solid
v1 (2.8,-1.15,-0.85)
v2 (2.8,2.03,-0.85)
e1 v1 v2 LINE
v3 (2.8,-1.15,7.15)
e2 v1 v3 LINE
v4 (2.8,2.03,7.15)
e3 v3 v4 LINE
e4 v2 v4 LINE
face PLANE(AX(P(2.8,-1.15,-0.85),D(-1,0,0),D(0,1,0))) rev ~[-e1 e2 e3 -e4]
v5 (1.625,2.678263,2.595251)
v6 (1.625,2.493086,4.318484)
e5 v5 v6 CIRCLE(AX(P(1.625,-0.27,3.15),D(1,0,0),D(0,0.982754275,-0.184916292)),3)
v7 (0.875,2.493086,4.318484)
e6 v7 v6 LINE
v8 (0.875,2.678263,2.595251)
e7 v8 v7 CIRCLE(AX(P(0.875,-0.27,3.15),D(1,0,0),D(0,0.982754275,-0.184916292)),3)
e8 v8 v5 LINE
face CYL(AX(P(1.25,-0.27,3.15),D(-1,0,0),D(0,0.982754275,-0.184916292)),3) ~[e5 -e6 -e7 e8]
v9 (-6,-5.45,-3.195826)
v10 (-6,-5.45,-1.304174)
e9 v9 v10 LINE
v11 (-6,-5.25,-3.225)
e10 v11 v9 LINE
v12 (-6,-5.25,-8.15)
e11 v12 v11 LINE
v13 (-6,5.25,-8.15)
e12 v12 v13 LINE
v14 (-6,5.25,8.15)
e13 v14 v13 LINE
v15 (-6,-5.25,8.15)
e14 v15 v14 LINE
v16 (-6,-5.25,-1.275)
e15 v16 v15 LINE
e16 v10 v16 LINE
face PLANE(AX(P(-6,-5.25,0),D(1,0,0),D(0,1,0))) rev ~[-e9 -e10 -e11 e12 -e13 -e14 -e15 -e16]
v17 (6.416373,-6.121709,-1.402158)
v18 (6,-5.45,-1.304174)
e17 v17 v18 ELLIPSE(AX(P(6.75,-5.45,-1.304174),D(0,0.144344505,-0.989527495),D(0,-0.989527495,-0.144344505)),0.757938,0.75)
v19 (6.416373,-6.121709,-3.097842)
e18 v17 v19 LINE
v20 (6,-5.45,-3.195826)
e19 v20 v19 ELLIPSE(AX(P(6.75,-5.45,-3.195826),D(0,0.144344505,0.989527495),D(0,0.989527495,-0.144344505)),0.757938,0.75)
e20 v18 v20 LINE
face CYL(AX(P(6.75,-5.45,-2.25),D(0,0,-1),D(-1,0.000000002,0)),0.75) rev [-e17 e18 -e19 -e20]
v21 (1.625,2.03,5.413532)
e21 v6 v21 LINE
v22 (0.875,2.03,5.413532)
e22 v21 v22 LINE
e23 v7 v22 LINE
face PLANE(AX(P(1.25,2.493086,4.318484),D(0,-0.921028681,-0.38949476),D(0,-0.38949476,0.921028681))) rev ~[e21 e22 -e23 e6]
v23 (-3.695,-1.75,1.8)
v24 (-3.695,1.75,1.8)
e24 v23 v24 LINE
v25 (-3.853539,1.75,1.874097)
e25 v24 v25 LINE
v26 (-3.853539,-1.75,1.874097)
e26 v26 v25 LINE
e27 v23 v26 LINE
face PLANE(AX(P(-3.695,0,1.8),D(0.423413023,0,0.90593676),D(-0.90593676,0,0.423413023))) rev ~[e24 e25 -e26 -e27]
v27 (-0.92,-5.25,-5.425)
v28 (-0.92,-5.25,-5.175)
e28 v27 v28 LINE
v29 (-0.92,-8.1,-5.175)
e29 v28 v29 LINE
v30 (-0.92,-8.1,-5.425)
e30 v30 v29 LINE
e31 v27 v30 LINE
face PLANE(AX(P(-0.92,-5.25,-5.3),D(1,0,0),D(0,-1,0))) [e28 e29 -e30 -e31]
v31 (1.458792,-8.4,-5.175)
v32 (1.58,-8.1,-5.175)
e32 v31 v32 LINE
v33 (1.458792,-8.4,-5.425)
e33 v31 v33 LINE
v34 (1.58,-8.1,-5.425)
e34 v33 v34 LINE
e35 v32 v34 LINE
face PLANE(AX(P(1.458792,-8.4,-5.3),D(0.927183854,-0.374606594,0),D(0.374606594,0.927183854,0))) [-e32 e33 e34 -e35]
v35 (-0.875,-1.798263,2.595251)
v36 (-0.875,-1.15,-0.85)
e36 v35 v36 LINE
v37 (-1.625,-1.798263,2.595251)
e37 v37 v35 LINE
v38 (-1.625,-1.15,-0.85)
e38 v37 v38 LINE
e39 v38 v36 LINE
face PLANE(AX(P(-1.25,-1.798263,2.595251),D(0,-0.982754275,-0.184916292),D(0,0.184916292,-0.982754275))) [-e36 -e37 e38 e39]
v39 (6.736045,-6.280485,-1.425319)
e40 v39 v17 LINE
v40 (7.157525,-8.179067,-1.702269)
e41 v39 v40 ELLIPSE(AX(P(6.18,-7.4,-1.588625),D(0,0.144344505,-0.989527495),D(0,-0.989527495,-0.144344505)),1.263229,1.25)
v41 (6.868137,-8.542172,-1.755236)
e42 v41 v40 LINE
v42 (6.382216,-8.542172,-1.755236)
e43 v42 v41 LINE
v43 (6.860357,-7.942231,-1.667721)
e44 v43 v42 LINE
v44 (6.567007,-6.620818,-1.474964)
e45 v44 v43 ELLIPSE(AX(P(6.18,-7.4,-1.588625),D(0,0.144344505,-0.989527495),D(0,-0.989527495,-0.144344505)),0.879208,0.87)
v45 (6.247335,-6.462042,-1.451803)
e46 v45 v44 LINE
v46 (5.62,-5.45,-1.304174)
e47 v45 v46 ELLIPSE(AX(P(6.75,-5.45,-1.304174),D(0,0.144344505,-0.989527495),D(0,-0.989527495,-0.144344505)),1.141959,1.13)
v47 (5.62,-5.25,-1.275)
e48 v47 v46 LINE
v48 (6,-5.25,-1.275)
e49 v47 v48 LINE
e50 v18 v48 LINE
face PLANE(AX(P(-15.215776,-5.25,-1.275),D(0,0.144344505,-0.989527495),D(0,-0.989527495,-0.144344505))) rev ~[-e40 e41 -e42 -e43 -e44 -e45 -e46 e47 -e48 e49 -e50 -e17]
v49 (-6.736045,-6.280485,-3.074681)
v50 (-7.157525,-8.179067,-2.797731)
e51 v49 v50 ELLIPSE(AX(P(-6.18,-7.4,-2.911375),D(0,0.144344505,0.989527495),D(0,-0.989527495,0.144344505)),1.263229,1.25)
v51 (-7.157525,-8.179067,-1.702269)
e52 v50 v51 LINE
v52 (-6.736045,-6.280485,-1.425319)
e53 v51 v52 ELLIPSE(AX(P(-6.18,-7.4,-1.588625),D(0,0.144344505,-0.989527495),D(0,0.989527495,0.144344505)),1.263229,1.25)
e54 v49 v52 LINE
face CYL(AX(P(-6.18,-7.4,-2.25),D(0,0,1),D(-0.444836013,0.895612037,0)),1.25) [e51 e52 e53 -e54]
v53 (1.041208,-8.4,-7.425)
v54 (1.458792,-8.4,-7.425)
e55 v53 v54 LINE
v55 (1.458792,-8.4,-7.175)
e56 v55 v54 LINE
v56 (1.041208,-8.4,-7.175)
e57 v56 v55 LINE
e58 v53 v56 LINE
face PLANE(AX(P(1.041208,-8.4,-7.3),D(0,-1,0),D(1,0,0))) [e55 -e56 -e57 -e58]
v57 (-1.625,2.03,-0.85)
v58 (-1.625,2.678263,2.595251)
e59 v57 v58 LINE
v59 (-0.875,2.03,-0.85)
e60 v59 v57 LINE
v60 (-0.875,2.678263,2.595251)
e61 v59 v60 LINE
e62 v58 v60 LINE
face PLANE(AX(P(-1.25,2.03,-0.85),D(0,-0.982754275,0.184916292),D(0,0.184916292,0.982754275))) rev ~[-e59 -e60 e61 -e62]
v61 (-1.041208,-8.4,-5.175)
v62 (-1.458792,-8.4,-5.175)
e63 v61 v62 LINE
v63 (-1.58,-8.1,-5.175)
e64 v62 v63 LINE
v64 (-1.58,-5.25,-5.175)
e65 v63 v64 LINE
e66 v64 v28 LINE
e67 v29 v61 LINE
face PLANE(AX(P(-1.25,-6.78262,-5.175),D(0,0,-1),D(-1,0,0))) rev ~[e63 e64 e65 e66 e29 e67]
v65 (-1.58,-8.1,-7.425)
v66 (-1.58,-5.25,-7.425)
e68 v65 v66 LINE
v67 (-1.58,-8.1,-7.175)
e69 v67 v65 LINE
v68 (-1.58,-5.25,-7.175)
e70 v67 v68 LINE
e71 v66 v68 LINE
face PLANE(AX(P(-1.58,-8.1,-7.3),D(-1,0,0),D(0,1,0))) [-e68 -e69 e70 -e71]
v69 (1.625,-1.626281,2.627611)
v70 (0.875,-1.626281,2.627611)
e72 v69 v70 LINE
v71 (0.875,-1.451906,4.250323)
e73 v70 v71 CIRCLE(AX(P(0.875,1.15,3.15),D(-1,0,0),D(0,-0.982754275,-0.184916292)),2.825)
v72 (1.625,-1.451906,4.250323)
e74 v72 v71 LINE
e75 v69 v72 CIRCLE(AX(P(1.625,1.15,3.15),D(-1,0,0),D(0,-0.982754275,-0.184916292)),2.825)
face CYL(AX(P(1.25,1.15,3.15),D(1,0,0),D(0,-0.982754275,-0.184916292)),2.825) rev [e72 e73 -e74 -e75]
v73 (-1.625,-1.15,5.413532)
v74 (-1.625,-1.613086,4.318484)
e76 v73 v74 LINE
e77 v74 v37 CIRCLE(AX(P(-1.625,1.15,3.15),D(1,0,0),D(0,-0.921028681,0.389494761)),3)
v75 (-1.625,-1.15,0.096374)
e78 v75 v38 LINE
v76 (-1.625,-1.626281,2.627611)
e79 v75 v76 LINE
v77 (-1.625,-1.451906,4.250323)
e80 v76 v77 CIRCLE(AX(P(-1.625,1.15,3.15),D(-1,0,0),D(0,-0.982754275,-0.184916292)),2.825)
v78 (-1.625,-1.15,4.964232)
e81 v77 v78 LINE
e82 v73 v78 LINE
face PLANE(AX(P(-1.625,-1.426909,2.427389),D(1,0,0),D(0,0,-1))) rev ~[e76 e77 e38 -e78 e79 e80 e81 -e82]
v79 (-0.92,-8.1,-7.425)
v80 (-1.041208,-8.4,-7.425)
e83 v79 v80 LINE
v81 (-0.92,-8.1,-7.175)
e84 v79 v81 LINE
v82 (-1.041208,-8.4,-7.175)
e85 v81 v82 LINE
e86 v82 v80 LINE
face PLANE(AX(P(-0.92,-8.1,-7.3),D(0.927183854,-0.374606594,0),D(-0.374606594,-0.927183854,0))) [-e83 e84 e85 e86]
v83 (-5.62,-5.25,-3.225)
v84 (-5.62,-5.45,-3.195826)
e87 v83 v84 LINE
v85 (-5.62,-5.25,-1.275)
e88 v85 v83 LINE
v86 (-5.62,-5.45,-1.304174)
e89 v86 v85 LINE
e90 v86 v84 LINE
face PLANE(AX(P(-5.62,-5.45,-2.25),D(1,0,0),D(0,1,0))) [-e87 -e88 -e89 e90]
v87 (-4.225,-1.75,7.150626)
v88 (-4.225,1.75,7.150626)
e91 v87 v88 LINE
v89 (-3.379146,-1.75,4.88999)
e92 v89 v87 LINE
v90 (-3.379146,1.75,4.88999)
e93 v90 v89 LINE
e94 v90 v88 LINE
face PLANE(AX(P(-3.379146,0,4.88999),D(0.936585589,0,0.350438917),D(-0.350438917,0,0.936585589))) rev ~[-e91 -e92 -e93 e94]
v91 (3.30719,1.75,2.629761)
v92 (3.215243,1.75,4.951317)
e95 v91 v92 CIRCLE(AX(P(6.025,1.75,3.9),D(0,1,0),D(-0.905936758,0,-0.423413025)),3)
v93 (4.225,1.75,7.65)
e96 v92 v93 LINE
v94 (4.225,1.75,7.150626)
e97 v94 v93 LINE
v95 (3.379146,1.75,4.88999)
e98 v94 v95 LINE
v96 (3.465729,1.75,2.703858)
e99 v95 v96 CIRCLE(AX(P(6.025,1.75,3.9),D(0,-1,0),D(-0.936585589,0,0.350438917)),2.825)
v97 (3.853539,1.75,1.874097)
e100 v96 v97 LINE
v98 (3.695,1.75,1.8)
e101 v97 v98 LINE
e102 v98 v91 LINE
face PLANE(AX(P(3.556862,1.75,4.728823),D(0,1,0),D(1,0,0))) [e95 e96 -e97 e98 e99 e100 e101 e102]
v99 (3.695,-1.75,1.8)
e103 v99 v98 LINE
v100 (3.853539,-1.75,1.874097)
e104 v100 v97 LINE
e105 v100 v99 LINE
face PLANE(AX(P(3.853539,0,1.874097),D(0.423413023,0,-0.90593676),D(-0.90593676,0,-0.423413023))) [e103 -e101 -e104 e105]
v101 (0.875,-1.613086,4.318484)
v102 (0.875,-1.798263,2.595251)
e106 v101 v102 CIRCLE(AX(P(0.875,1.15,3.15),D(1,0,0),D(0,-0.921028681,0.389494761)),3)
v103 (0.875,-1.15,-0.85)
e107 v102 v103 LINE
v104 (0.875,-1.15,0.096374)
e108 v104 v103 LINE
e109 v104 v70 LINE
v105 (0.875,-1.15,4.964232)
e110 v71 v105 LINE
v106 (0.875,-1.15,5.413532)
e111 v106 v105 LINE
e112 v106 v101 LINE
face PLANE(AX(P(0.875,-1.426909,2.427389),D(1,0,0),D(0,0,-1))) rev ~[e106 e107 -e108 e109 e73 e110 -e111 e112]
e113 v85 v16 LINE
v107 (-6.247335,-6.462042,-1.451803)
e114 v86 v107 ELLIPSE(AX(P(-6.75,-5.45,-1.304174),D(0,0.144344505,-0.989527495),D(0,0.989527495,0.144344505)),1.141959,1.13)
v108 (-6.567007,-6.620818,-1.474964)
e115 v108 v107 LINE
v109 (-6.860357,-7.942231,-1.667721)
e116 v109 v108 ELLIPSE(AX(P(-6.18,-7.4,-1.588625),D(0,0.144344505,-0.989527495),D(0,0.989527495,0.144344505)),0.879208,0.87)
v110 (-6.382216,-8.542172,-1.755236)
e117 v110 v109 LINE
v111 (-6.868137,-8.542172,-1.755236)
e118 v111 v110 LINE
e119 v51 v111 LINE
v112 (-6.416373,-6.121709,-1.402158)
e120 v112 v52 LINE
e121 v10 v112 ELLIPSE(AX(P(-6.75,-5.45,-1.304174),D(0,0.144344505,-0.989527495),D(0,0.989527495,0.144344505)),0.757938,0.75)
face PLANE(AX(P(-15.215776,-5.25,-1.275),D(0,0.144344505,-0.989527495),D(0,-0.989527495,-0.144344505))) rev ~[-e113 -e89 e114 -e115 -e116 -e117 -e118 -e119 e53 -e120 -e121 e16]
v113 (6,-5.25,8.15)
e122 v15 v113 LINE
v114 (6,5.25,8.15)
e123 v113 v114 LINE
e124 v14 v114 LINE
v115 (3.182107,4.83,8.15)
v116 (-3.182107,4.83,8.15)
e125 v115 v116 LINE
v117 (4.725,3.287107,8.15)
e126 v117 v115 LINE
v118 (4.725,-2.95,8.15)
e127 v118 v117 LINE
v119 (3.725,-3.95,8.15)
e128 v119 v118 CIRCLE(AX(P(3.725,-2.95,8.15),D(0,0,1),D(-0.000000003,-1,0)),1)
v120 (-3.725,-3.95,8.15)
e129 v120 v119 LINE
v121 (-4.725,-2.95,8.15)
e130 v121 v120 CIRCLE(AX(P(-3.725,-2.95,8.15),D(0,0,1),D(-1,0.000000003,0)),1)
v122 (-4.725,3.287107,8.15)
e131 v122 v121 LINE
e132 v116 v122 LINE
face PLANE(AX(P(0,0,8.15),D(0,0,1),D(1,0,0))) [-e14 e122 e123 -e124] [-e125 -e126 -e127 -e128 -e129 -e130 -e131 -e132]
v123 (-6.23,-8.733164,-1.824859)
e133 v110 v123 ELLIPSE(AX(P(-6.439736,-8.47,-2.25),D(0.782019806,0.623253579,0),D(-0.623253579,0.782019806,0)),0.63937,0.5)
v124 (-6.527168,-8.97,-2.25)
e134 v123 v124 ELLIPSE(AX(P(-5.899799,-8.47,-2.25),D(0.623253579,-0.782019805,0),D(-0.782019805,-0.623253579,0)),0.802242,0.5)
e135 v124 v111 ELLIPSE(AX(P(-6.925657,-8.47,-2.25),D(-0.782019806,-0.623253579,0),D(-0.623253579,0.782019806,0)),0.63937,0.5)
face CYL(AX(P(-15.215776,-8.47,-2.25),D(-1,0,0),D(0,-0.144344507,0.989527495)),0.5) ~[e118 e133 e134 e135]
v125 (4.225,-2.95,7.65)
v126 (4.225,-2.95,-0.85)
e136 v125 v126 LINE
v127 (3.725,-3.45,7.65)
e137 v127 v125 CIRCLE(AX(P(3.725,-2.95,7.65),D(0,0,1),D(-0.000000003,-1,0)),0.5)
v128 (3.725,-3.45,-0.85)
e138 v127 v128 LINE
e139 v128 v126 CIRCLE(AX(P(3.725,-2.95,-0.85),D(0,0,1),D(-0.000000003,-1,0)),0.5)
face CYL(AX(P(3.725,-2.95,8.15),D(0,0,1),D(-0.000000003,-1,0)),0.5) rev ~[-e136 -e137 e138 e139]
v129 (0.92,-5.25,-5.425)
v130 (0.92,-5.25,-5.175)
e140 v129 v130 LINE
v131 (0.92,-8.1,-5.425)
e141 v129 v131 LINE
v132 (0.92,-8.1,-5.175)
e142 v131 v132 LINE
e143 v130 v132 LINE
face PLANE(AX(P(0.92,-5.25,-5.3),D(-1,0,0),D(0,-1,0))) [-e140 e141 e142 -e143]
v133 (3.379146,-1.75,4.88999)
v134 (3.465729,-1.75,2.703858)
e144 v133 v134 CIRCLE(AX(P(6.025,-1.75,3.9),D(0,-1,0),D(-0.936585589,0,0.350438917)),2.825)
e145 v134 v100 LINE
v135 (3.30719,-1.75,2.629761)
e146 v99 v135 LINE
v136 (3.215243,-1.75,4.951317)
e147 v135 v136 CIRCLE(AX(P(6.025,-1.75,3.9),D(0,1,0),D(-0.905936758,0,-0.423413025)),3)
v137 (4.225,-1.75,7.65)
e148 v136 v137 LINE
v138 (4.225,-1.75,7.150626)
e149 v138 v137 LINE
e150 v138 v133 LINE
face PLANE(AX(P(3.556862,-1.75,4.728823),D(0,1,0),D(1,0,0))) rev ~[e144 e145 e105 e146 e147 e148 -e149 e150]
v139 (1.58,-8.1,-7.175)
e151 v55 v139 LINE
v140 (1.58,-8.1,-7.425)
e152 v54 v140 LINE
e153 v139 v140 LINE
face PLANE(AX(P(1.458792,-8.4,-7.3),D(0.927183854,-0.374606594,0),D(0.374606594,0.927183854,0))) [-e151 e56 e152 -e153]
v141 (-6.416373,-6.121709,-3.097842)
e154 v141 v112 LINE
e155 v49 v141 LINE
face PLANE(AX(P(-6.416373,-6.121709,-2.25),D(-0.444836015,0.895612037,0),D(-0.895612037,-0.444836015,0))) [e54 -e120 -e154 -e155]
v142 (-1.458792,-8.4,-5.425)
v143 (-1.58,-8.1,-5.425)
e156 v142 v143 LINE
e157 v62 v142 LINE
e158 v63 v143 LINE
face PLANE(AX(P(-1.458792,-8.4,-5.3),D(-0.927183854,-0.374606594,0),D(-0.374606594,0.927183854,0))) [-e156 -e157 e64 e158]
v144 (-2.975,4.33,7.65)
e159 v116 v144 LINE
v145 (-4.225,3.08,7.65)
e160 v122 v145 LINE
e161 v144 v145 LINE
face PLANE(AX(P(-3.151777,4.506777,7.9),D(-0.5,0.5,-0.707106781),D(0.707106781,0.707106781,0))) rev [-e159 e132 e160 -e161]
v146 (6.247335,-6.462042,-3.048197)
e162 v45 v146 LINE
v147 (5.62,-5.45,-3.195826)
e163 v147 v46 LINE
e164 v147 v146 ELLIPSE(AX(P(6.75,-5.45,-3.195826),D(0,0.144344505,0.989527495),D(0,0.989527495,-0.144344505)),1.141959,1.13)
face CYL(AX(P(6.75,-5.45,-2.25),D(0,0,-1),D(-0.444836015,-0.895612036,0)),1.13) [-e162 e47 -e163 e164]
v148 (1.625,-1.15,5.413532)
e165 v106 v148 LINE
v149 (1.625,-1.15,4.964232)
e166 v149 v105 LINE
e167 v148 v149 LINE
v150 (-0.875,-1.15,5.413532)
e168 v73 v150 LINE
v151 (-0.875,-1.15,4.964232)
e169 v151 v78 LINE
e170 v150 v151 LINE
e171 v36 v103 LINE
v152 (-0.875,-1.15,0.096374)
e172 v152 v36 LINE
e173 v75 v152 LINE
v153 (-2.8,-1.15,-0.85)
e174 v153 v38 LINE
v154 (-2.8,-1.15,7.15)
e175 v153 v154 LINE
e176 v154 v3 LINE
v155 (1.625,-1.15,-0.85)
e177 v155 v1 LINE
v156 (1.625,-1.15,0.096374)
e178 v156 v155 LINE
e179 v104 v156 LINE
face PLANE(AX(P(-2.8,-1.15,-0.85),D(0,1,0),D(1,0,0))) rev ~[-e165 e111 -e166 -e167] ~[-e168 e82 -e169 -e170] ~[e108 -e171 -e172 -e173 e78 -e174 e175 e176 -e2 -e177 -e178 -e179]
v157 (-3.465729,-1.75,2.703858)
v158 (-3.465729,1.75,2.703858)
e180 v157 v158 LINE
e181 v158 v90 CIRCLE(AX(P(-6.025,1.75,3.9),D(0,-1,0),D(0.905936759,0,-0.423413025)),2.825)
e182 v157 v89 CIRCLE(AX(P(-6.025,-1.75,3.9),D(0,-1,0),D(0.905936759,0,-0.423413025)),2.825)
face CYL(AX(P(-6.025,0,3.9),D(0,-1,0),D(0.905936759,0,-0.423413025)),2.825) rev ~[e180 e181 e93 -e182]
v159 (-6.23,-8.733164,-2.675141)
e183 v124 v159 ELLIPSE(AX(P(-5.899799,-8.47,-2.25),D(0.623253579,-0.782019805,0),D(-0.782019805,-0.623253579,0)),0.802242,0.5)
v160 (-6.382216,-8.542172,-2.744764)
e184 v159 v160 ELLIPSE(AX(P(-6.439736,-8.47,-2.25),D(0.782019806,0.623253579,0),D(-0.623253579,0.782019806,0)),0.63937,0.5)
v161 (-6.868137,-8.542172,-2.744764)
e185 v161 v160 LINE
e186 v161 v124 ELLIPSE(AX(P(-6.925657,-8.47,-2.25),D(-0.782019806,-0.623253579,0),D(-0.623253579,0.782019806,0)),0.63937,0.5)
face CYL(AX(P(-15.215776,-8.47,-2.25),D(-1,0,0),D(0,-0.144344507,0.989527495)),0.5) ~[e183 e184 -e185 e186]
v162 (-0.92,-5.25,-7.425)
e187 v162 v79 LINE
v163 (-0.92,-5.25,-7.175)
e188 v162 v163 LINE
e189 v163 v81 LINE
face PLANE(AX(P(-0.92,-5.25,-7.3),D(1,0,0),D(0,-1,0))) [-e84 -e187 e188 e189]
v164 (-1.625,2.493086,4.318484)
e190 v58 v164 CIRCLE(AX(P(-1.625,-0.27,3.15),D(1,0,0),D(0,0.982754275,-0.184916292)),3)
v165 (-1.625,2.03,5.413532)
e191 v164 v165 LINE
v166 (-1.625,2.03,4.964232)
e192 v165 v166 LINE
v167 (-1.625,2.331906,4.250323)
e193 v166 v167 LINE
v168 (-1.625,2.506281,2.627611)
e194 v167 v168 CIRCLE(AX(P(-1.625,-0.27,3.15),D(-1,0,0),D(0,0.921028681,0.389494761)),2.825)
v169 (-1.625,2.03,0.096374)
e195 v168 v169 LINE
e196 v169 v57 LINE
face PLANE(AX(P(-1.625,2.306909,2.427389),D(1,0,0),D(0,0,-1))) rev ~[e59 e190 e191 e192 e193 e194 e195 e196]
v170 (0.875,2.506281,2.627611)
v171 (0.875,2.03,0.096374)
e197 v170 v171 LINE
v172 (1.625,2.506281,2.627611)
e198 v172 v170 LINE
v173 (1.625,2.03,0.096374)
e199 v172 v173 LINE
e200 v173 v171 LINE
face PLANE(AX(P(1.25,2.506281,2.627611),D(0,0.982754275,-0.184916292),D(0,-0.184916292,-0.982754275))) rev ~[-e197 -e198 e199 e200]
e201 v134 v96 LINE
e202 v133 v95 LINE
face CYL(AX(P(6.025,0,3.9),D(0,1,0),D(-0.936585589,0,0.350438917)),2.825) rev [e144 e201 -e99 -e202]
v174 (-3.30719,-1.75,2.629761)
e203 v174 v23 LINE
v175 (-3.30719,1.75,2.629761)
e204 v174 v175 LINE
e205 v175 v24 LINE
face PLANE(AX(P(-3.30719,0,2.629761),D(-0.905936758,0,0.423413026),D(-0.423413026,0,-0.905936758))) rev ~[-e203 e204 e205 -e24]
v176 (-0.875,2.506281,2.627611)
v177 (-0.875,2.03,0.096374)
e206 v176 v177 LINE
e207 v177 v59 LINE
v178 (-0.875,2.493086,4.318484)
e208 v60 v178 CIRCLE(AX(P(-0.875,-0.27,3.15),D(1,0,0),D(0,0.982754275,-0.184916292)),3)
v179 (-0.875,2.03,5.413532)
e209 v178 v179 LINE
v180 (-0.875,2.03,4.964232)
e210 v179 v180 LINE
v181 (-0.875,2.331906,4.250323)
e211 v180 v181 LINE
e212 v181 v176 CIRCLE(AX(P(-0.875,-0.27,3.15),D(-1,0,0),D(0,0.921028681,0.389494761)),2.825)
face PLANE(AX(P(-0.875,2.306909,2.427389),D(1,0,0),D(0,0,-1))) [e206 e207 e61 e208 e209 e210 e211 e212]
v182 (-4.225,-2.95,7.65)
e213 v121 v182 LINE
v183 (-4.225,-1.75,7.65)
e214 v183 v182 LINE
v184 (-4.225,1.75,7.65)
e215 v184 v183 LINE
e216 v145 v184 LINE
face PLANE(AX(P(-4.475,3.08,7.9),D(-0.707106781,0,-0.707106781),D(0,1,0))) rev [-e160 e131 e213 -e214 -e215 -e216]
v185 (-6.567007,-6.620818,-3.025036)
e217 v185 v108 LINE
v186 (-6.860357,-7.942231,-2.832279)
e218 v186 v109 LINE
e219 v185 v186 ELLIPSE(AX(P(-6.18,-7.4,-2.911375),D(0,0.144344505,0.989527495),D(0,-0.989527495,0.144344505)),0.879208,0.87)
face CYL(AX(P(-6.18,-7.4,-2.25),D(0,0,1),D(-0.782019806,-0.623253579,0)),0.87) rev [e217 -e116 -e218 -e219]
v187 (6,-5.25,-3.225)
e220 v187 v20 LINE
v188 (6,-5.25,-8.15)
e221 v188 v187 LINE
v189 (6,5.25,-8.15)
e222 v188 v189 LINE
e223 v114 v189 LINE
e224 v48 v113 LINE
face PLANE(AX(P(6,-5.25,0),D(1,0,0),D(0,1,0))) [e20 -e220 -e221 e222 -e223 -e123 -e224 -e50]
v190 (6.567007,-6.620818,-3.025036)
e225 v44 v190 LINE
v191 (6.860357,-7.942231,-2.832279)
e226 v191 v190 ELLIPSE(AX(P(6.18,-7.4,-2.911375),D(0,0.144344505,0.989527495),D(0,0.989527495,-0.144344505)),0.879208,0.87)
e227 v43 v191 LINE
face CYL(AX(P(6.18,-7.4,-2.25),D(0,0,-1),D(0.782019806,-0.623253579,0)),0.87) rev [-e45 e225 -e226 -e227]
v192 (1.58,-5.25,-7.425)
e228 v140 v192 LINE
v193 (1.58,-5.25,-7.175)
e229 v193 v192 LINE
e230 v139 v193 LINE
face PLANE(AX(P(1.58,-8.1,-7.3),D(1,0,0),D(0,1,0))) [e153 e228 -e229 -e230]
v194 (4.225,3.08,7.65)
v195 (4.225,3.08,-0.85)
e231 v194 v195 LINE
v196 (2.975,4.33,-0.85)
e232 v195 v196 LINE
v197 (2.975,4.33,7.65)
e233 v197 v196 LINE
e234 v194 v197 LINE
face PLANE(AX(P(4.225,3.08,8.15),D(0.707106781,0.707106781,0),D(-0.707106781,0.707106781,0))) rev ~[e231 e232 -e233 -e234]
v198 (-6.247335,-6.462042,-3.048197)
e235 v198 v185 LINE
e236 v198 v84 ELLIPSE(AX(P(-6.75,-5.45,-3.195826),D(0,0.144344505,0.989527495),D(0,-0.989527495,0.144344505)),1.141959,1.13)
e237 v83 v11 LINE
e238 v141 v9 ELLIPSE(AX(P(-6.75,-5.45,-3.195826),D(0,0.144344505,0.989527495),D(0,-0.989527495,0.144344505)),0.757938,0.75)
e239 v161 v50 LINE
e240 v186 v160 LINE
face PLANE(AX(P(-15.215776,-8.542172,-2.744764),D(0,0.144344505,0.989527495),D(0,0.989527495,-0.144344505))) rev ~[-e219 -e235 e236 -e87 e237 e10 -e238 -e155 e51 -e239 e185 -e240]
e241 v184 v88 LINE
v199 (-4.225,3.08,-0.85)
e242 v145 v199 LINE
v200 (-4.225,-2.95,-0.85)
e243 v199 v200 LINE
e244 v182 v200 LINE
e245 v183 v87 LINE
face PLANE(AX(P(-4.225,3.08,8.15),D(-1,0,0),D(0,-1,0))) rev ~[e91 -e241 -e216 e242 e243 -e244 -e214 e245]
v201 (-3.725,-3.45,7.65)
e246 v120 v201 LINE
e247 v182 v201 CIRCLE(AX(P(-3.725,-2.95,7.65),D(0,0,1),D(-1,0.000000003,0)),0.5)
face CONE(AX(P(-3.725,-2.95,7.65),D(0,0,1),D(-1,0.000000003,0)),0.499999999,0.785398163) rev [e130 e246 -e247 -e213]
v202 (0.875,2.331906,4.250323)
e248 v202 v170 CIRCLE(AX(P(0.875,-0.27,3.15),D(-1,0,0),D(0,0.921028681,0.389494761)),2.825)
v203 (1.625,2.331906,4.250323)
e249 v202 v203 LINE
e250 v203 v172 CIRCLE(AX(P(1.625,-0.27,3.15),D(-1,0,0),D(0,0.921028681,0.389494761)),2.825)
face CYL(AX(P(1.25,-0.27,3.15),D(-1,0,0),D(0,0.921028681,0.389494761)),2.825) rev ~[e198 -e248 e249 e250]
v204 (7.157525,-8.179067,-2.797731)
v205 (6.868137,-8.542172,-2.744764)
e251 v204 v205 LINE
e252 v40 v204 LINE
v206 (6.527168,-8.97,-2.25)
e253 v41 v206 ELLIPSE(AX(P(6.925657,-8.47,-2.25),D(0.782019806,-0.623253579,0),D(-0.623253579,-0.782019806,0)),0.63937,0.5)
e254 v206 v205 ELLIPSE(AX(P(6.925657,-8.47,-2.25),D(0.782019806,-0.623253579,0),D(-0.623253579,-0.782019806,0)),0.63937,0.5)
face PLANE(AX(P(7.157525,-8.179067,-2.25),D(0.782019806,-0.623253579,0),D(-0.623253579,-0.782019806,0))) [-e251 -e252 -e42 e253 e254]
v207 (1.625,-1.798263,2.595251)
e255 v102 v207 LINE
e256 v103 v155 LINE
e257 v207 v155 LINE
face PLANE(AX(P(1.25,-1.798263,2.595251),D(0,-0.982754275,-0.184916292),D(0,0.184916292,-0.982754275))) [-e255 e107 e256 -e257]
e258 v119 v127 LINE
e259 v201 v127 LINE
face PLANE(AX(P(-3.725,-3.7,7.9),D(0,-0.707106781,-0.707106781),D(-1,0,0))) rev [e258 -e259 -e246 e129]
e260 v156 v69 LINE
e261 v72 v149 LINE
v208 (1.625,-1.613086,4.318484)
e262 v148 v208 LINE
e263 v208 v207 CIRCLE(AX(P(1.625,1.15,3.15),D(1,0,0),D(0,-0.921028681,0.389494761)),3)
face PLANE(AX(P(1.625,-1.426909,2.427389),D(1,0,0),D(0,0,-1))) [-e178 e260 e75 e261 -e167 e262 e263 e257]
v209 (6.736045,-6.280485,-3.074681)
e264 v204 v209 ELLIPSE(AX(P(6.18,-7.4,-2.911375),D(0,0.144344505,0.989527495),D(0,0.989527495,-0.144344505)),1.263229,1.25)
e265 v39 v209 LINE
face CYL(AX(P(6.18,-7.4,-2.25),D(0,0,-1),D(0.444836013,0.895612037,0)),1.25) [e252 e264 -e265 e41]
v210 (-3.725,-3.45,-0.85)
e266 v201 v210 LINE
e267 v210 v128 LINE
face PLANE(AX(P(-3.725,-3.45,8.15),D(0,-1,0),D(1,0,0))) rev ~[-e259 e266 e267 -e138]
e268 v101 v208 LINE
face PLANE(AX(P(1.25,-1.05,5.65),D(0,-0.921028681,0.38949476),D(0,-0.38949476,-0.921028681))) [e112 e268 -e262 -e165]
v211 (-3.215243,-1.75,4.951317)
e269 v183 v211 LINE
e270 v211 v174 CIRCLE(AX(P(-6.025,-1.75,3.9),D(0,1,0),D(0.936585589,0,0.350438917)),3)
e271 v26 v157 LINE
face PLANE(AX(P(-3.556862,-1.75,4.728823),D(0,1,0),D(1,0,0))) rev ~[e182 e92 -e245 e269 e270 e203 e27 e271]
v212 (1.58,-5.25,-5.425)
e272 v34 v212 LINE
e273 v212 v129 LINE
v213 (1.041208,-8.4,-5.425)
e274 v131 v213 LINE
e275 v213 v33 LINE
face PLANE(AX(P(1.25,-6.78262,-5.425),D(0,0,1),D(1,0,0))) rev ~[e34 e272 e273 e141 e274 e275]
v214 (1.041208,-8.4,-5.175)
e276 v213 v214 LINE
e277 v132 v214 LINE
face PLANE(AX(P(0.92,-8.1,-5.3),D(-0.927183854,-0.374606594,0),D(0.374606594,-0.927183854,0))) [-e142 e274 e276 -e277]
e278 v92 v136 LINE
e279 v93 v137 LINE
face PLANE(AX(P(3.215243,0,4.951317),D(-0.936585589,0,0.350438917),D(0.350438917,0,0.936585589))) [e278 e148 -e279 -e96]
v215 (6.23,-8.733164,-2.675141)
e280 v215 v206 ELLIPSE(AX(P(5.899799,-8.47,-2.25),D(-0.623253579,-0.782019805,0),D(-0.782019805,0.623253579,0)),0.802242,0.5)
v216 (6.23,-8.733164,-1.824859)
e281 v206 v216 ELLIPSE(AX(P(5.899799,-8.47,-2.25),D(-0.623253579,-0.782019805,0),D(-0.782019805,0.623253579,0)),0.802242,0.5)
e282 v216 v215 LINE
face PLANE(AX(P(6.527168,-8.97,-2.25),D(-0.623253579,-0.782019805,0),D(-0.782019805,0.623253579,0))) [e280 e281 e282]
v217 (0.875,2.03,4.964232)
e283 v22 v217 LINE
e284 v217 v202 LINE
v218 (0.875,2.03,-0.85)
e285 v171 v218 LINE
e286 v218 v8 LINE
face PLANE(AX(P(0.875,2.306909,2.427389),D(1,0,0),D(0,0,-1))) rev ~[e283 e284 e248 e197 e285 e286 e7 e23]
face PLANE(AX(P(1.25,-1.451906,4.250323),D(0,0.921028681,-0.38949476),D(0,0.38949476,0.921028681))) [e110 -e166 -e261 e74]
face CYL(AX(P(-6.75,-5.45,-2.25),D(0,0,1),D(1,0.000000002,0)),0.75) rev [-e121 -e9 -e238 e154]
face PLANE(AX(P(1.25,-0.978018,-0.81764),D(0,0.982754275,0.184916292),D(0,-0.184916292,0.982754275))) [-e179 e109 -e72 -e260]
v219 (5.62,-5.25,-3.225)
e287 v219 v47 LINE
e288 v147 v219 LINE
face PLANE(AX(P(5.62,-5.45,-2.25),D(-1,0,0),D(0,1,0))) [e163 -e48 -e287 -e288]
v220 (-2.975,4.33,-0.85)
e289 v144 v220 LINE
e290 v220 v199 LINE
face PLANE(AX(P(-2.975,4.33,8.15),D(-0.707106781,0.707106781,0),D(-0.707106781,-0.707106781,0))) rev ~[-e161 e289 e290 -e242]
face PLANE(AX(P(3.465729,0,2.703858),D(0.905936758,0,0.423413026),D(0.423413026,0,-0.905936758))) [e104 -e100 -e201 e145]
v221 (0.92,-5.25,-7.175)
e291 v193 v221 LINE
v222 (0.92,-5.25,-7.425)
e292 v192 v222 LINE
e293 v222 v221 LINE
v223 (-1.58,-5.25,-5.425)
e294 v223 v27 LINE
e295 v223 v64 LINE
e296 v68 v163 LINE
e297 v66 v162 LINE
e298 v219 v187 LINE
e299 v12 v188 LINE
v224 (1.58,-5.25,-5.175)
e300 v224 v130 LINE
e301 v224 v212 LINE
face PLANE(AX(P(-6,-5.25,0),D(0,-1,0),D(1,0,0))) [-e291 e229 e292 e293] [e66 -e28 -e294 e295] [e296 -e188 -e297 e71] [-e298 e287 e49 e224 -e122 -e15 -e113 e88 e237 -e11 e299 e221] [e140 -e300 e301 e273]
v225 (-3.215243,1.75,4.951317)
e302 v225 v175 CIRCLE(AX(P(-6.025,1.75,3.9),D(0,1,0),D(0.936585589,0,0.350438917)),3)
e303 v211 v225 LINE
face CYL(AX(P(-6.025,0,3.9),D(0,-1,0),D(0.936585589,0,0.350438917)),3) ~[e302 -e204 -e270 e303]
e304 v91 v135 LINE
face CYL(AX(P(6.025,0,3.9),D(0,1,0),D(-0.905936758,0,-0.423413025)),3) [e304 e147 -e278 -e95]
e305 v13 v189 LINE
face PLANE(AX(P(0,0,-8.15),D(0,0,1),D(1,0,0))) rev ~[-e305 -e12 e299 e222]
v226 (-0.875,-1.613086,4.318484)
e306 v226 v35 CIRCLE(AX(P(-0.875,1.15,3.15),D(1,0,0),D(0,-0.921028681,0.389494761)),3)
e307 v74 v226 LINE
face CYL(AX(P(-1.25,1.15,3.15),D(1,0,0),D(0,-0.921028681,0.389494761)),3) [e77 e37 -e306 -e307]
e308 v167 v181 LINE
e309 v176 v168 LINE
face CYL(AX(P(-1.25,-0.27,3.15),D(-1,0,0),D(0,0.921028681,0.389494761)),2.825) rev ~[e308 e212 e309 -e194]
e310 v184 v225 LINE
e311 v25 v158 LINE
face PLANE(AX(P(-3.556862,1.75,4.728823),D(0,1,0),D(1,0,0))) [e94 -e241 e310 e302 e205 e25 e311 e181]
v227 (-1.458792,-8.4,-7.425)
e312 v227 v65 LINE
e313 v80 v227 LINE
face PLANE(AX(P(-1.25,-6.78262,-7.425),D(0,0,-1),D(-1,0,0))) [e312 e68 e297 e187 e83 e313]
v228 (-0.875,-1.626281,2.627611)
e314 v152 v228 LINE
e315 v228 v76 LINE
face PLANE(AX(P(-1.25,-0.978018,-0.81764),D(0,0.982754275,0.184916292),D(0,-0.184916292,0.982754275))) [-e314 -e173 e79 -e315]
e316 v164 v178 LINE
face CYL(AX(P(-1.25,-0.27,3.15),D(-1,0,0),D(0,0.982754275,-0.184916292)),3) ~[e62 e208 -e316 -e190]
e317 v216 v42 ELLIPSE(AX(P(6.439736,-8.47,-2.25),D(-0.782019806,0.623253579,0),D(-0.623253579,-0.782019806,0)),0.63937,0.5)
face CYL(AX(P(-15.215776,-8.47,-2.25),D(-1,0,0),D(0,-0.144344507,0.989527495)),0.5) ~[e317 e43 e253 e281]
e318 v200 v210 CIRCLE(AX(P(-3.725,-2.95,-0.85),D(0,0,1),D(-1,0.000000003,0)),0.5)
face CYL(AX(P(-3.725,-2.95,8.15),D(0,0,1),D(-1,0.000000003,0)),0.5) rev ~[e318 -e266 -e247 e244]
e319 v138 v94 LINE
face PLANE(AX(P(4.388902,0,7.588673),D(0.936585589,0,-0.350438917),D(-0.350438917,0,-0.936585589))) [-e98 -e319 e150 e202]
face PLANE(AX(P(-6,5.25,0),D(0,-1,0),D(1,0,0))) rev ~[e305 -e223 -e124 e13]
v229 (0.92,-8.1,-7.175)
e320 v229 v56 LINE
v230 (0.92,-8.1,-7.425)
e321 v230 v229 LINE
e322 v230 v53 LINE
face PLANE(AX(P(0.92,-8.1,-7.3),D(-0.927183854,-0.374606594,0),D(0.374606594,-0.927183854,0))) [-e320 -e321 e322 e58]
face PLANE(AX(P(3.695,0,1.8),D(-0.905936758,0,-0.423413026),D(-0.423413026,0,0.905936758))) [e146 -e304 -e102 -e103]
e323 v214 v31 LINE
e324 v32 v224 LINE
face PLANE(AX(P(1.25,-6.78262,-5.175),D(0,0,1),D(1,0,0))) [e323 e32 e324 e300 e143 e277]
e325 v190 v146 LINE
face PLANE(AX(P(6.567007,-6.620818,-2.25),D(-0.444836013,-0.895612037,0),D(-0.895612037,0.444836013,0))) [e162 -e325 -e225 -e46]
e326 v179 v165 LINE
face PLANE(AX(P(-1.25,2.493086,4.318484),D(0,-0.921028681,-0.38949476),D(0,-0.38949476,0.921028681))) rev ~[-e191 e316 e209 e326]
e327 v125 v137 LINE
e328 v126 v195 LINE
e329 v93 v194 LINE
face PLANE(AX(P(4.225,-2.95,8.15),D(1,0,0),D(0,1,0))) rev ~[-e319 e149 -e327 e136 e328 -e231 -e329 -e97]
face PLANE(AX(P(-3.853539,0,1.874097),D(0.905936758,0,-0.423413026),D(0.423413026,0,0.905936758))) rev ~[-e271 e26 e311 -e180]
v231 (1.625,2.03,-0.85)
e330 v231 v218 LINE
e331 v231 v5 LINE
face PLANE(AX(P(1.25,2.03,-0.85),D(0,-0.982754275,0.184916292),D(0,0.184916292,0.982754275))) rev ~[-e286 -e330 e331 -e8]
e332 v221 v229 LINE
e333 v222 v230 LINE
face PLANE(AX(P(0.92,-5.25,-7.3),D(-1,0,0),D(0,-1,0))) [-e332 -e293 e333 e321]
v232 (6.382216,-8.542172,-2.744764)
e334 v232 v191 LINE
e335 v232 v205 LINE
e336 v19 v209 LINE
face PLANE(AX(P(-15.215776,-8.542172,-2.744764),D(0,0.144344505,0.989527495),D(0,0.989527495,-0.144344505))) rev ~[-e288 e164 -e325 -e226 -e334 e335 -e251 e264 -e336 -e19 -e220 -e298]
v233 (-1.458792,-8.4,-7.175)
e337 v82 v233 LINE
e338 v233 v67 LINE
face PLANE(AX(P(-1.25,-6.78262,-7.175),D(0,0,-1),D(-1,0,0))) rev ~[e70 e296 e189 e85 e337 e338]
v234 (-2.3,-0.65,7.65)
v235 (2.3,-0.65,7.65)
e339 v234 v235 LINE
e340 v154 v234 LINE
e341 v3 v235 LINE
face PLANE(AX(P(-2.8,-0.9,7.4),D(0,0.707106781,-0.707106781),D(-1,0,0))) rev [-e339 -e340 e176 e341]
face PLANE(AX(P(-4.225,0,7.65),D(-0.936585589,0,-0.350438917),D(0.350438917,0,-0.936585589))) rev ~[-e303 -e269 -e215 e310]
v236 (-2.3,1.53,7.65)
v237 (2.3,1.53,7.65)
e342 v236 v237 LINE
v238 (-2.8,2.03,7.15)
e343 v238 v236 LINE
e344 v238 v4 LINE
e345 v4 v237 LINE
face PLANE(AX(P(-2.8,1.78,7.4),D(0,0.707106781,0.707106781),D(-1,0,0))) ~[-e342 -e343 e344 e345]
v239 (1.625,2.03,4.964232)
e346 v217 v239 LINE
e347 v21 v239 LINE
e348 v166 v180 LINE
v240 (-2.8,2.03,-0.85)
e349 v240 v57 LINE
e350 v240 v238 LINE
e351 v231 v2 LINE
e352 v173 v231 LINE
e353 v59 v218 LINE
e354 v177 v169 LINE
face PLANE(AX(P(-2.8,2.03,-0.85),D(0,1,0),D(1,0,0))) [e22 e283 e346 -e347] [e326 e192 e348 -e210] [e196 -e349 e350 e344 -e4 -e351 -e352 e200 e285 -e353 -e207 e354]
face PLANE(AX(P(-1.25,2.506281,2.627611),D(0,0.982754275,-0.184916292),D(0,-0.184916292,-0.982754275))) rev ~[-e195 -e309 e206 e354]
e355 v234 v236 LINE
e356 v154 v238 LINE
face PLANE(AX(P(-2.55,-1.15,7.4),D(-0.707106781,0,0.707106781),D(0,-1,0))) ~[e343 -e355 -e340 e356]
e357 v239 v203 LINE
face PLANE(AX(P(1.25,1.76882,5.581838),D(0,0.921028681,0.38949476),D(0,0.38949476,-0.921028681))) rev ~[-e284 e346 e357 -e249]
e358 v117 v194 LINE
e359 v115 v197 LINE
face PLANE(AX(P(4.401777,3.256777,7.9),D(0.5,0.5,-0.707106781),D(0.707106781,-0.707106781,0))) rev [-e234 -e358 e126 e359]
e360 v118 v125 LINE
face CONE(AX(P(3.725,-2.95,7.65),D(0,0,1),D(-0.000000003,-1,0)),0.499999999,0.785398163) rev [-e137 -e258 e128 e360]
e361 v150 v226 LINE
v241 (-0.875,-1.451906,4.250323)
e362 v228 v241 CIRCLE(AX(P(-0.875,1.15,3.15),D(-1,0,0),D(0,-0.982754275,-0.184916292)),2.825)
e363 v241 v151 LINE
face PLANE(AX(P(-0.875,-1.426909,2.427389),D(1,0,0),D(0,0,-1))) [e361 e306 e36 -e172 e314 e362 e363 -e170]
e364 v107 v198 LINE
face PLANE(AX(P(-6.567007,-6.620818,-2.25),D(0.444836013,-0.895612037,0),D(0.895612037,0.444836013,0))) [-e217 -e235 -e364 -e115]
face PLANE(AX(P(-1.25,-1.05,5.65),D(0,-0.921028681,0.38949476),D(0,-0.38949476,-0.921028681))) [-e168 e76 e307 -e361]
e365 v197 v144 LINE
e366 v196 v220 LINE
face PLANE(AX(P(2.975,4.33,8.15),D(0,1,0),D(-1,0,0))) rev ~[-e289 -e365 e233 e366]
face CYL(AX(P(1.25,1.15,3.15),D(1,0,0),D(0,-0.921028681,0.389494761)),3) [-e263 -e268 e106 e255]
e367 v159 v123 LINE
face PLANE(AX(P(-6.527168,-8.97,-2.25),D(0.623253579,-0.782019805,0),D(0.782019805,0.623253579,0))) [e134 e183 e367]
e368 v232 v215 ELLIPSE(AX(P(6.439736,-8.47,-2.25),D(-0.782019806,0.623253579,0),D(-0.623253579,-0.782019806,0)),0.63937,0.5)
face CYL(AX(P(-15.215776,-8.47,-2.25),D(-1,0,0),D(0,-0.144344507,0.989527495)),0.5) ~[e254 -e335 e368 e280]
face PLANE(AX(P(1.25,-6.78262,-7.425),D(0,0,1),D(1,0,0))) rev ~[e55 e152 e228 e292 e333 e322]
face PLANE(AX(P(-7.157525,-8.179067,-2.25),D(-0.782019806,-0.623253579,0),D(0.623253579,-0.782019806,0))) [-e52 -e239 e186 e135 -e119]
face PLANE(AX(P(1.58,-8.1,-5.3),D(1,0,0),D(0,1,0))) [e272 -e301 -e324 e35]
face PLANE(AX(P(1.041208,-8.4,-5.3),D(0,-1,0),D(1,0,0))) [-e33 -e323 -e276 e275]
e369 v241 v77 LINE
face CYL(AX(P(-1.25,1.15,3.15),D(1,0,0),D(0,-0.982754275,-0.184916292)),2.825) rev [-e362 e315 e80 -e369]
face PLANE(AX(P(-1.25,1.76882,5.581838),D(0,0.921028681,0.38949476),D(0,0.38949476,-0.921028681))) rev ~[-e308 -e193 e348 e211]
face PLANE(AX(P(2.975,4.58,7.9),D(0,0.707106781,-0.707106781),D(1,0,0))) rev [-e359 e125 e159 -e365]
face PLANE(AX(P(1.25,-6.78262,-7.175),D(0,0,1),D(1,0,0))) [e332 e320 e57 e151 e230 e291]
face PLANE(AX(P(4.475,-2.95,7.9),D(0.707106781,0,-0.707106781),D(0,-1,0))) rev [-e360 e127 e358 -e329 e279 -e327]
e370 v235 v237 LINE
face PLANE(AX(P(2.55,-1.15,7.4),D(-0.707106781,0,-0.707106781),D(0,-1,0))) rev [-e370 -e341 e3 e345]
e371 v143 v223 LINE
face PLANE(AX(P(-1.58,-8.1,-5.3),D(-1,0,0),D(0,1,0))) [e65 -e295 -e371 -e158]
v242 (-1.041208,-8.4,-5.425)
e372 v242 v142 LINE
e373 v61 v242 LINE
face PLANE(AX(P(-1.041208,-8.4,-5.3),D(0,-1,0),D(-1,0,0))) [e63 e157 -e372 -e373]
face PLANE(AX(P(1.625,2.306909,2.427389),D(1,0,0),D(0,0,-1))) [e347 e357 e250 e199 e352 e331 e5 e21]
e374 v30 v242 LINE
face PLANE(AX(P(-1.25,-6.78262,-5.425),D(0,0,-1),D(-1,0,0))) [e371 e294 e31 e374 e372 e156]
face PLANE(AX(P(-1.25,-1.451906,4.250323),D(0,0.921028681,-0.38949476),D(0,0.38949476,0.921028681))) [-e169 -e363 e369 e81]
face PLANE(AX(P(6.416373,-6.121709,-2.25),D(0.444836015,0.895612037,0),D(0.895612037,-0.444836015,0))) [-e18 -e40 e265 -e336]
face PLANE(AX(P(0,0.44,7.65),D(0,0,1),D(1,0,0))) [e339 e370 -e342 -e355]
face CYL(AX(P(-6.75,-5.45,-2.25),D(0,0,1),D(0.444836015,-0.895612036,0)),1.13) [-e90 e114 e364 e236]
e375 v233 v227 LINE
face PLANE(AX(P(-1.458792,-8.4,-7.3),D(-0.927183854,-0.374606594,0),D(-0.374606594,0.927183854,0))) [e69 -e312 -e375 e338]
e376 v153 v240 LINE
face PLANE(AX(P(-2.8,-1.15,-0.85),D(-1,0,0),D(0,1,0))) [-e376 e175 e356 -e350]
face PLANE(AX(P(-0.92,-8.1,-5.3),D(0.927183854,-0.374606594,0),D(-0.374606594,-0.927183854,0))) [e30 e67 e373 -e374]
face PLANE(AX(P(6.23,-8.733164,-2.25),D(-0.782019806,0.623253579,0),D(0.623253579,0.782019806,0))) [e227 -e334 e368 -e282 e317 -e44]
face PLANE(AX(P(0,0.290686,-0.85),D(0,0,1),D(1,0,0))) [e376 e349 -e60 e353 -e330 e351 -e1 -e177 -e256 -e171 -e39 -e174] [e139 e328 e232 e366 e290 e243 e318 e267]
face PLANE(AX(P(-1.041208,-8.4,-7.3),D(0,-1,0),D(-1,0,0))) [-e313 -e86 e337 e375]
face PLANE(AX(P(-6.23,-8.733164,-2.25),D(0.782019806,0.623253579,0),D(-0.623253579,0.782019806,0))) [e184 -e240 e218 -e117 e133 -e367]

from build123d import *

# Parameters (mm, degrees)
SKETCH1_W                      = 12
SKETCH1_H                      = 10.5
BASE_DEPTH                     = 8.15
CONTACT_OPENING_DEPTH          = 9
CONTACT_OPENING_LEAD_IN_SIZE   = 0.5
SKETCH3_W                      = 5.6
SKETCH3_H                      = 3.18
CONTACT_AREA_DEPTH             = 8.5
CONTACT_AREA_LEAD_IN_SIZE      = 0.5
HOLDING_TINES_DEPTH            = 1.75
CONTACT_DEPTH                  = 0.375
CONTACT_PATTERN_COUNT          = 2
CONTACT_PATTERN_PITCH          = 2.5
TH_GROUND_LEGS_DEPTH           = 0.975
TH_GROUND_LEG_SHAPE_DEPTH      = 15.215776447
TH_GROUND_LEG_SHAPE_DEPTH_BACK = 15.215776447
TH_TAILS_DEPTH                 = 0.125
TH_TAILS_PATTERN_COUNT         = 2
TH_TAILS_PATTERN_PITCH         = 2


with BuildPart() as part:
    # Sketch1 → Base (new, symmetric)
    with BuildSketch(Plane.XY):
        Rectangle(SKETCH1_W, SKETCH1_H)
    extrude(amount=BASE_DEPTH, both=True)

    # Sketch2 → Contact Opening (cut)
    with BuildSketch(Plane.XY.offset(8.15)):
        with BuildLine():
            Line((-2.975, 4.33), (-4.225, 3.08))
            Line((-4.225, 3.08), (-4.225, -2.95))
            ThreePointArc((-4.225, -2.95), (-4.078553391, -3.303553391), (-3.725, -3.45))
            Line((-3.725, -3.45), (3.725, -3.45))
            ThreePointArc((3.725, -3.45), (4.078553391, -3.303553391), (4.225, -2.95))
            Line((4.225, -2.95), (4.225, 3.08))
            Line((4.225, 3.08), (2.975, 4.33))
            Line((2.975, 4.33), (-2.975, 4.33))
        make_face()
    extrude(amount=-CONTACT_OPENING_DEPTH, mode=Mode.SUBTRACT)

    # Contact Opening Lead-in
    contact_opening_lead_in_edges = [part.edges().sort_by_distance(p)[0] for p in [
        (0, 4.33, 8.15),
        (-3.6, 3.705, 8.15),
        (-4.225, 0.065, 8.15),
        (-4.078553391, -3.303553391, 8.15),
        (0, -3.45, 8.15),
        (4.078553391, -3.303553391, 8.15),
        (4.225, 0.065, 8.15),
        (3.6, 3.705, 8.15),
    ]]
    chamfer(contact_opening_lead_in_edges, length=CONTACT_OPENING_LEAD_IN_SIZE)

    # Sketch3 → Contact Area (add)
    with BuildSketch(Plane.XY.offset(-0.85)):
        with Locations((0, 0.44)):
            Rectangle(SKETCH3_W, SKETCH3_H)
    extrude(amount=CONTACT_AREA_DEPTH)

    # Contact Area Lead-in
    contact_area_lead_in_edges = [part.edges().sort_by_distance(p)[0] for p in [
        (-2.8, 0.44, 7.65),
        (0, -1.15, 7.65),
        (2.8, 0.44, 7.65),
        (0, 2.03, 7.65),
    ]]
    chamfer(contact_area_lead_in_edges, length=CONTACT_AREA_LEAD_IN_SIZE)

    # Sketch7 → Holding Tines (add, symmetric)
    with BuildSketch(Plane(origin=(0, 0, 0), x_dir=(1, 0, 0), z_dir=(0, 1, 0))):
        with BuildLine():
            Line((-4.225, -7.65), (-3.215243234, -4.951316752))
            ThreePointArc((-3.215243234, -4.951316752), (-3.027350135, -3.781276433), (-3.307189725, -2.629760924))
            Line((-3.307189725, -2.629760924), (-3.695, -1.8))
            Line((-3.695, -1.8), (-3.853538933, -1.874097279))
            Line((-3.853538933, -1.874097279), (-3.465728658, -2.703858203))
            ThreePointArc((-3.465728658, -2.703858203), (-3.202213044, -3.788201975), (-3.379145712, -4.889989942))
            Line((-3.379145712, -4.889989942), (-4.388902478, -7.588673189))
            Line((-4.388902478, -7.588673189), (-4.225, -7.65))
        make_face()
        with BuildLine():
            Line((4.225, -7.65), (4.388902478, -7.588673189))
            Line((4.388902478, -7.588673189), (3.379145712, -4.889989942))
            ThreePointArc((3.379145712, -4.889989942), (3.202213044, -3.788201975), (3.465728658, -2.703858203))
            Line((3.465728658, -2.703858203), (3.853538933, -1.874097279))
            Line((3.853538933, -1.874097279), (3.695, -1.8))
            Line((3.695, -1.8), (3.307189725, -2.629760924))
            ThreePointArc((3.307189725, -2.629760924), (3.027350135, -3.781276433), (3.215243234, -4.951316752))
            Line((3.215243234, -4.951316752), (4.225, -7.65))
        make_face()
    extrude(amount=HOLDING_TINES_DEPTH, both=True)

    # Sketch8 → Contact (add, symmetric)
    with BuildSketch(Plane(origin=(-1.25, 0, 0), x_dir=(0, 0, -1), z_dir=(1, 0, 0))):
        with BuildLine():
            Line((0.85, 2.03), (-2.595251124, 2.678262825))
            ThreePointArc((-2.595251124, 2.678262825), (-3.47053143, 2.712827451), (-4.318484282, 2.493086043))
            Line((-4.318484282, 2.493086043), (-5.65, 1.93))
            Line((-5.65, 1.93), (-5.581838417, 1.768819981))
            Line((-5.581838417, 1.768819981), (-4.250322699, 2.331906024))
            ThreePointArc((-4.250322699, 2.331906024), (-3.451833763, 2.538829183), (-2.627611475, 2.506280827))
            Line((-2.627611475, 2.506280827), (0.817639649, 1.858018002))
            Line((0.817639649, 1.858018002), (0.85, 2.03))
        make_face()
        with BuildLine():
            Line((-5.581838417, -0.888819981), (-5.65, -1.05))
            Line((-5.65, -1.05), (-4.318484282, -1.613086043))
            ThreePointArc((-4.318484282, -1.613086043), (-3.47053143, -1.832827451), (-2.595251124, -1.798262825))
            Line((-2.595251124, -1.798262825), (0.85, -1.15))
            Line((0.85, -1.15), (0.817639649, -0.978018002))
            Line((0.817639649, -0.978018002), (-2.627611475, -1.626280827))
            ThreePointArc((-2.627611475, -1.626280827), (-3.451833763, -1.658829183), (-4.250322699, -1.451906024))
            Line((-4.250322699, -1.451906024), (-5.581838417, -0.888819981))
        make_face()
    contact = extrude(amount=CONTACT_DEPTH, both=True)

    # Contact Pattern: Contact ×2
    with Locations(*[(i * CONTACT_PATTERN_PITCH, 0, 0) for i in range(1, CONTACT_PATTERN_COUNT)]):
        add(contact)

    # Sketch13 → TH Ground Legs (add, symmetric)
    with BuildSketch(Plane.XY.offset(-2.25)):
        with BuildLine():
            Line((6, -5.25), (6, -5.45))
            ThreePointArc((6, -5.45), (6.112536174, -5.84514538), (6.41637299, -6.121709028))
            Line((6.41637299, -6.121709028), (6.736045017, -6.280484954))
            ThreePointArc((6.736045017, -6.280484954), (7.400291967, -7.129098698), (7.157524757, -8.179066973))
            Line((7.157524757, -8.179066973), (6.527167526, -8.97))
            Line((6.527167526, -8.97), (6.23, -8.73316364))
            Line((6.23, -8.73316364), (6.860357231, -7.942230613))
            ThreePointArc((6.860357231, -7.942230613), (7.029323209, -7.211452694), (6.567007332, -6.620817528))
            Line((6.567007332, -6.620817528), (6.247335304, -6.462041602))
            ThreePointArc((6.247335304, -6.462041602), (5.789554503, -6.045352372), (5.62, -5.45))
            Line((5.62, -5.45), (5.62, -5.25))
            Line((5.62, -5.25), (6, -5.25))
        make_face()
        with BuildLine():
            Line((-5.62, -5.25), (-6, -5.25))
            Line((-6, -5.25), (-6, -5.45))
            ThreePointArc((-6, -5.45), (-6.112536174, -5.84514538), (-6.41637299, -6.121709028))
            Line((-6.41637299, -6.121709028), (-6.736045017, -6.280484954))
            ThreePointArc((-6.736045017, -6.280484954), (-7.400291967, -7.129098698), (-7.157524757, -8.179066973))
            Line((-7.157524757, -8.179066973), (-6.527167526, -8.97))
            Line((-6.527167526, -8.97), (-6.23, -8.73316364))
            Line((-6.23, -8.73316364), (-6.860357231, -7.942230613))
            ThreePointArc((-6.860357231, -7.942230613), (-7.029323209, -7.211452694), (-6.567007332, -6.620817528))
            Line((-6.567007332, -6.620817528), (-6.247335304, -6.462041602))
            ThreePointArc((-6.247335304, -6.462041602), (-5.789554503, -6.045352372), (-5.62, -5.45))
            Line((-5.62, -5.45), (-5.62, -5.25))
        make_face()
    extrude(amount=TH_GROUND_LEGS_DEPTH, both=True)

    # Sketch14 → TH Ground Leg Shape (cut, two sides: drawn at the far end of the back side and taken through both)
    with BuildSketch(Plane(origin=(0, 0, 0), x_dir=(0, 0, -1), z_dir=(1, 0, 0)).offset(-TH_GROUND_LEG_SHAPE_DEPTH_BACK)):
        with BuildLine():
            Line((3.225, -5.25), (3.225, -9))
            Line((3.225, -9), (1.275, -9))
            Line((1.275, -9), (1.275, -5.25))
            Line((1.275, -5.25), (1.755236252, -8.542172253))
            ThreePointArc((1.755236252, -8.542172253), (2.25, -8.97), (2.744763748, -8.542172253))
            Line((2.744763748, -8.542172253), (3.225, -5.25))
        make_face()
    extrude(amount=TH_GROUND_LEG_SHAPE_DEPTH + TH_GROUND_LEG_SHAPE_DEPTH_BACK, mode=Mode.SUBTRACT)

    # Sketch15 → TH Tails (add, symmetric)
    with BuildSketch(Plane(origin=(0, 0, -7.3), x_dir=(-1, 0, 0), z_dir=(0, 0, -1))):
        Polygon((-1.58, -5.25), (-0.92, -5.25), (-0.92, -8.1), (-1.041207868, -8.4), (-1.458792132, -8.4), (-1.58, -8.1), align=None)
        Polygon((0.92, -8.1), (1.041207868, -8.4), (1.458792132, -8.4), (1.58, -8.1), (1.58, -5.25), (0.92, -5.25), align=None)
    th_tails = extrude(amount=TH_TAILS_DEPTH, both=True)

    # TH Tails Pattern: TH Tails ×2
    with Locations(*[(0, 0, i * TH_TAILS_PATTERN_PITCH) for i in range(1, TH_TAILS_PATTERN_COUNT)]):
        add(th_tails)


solid = part.part
